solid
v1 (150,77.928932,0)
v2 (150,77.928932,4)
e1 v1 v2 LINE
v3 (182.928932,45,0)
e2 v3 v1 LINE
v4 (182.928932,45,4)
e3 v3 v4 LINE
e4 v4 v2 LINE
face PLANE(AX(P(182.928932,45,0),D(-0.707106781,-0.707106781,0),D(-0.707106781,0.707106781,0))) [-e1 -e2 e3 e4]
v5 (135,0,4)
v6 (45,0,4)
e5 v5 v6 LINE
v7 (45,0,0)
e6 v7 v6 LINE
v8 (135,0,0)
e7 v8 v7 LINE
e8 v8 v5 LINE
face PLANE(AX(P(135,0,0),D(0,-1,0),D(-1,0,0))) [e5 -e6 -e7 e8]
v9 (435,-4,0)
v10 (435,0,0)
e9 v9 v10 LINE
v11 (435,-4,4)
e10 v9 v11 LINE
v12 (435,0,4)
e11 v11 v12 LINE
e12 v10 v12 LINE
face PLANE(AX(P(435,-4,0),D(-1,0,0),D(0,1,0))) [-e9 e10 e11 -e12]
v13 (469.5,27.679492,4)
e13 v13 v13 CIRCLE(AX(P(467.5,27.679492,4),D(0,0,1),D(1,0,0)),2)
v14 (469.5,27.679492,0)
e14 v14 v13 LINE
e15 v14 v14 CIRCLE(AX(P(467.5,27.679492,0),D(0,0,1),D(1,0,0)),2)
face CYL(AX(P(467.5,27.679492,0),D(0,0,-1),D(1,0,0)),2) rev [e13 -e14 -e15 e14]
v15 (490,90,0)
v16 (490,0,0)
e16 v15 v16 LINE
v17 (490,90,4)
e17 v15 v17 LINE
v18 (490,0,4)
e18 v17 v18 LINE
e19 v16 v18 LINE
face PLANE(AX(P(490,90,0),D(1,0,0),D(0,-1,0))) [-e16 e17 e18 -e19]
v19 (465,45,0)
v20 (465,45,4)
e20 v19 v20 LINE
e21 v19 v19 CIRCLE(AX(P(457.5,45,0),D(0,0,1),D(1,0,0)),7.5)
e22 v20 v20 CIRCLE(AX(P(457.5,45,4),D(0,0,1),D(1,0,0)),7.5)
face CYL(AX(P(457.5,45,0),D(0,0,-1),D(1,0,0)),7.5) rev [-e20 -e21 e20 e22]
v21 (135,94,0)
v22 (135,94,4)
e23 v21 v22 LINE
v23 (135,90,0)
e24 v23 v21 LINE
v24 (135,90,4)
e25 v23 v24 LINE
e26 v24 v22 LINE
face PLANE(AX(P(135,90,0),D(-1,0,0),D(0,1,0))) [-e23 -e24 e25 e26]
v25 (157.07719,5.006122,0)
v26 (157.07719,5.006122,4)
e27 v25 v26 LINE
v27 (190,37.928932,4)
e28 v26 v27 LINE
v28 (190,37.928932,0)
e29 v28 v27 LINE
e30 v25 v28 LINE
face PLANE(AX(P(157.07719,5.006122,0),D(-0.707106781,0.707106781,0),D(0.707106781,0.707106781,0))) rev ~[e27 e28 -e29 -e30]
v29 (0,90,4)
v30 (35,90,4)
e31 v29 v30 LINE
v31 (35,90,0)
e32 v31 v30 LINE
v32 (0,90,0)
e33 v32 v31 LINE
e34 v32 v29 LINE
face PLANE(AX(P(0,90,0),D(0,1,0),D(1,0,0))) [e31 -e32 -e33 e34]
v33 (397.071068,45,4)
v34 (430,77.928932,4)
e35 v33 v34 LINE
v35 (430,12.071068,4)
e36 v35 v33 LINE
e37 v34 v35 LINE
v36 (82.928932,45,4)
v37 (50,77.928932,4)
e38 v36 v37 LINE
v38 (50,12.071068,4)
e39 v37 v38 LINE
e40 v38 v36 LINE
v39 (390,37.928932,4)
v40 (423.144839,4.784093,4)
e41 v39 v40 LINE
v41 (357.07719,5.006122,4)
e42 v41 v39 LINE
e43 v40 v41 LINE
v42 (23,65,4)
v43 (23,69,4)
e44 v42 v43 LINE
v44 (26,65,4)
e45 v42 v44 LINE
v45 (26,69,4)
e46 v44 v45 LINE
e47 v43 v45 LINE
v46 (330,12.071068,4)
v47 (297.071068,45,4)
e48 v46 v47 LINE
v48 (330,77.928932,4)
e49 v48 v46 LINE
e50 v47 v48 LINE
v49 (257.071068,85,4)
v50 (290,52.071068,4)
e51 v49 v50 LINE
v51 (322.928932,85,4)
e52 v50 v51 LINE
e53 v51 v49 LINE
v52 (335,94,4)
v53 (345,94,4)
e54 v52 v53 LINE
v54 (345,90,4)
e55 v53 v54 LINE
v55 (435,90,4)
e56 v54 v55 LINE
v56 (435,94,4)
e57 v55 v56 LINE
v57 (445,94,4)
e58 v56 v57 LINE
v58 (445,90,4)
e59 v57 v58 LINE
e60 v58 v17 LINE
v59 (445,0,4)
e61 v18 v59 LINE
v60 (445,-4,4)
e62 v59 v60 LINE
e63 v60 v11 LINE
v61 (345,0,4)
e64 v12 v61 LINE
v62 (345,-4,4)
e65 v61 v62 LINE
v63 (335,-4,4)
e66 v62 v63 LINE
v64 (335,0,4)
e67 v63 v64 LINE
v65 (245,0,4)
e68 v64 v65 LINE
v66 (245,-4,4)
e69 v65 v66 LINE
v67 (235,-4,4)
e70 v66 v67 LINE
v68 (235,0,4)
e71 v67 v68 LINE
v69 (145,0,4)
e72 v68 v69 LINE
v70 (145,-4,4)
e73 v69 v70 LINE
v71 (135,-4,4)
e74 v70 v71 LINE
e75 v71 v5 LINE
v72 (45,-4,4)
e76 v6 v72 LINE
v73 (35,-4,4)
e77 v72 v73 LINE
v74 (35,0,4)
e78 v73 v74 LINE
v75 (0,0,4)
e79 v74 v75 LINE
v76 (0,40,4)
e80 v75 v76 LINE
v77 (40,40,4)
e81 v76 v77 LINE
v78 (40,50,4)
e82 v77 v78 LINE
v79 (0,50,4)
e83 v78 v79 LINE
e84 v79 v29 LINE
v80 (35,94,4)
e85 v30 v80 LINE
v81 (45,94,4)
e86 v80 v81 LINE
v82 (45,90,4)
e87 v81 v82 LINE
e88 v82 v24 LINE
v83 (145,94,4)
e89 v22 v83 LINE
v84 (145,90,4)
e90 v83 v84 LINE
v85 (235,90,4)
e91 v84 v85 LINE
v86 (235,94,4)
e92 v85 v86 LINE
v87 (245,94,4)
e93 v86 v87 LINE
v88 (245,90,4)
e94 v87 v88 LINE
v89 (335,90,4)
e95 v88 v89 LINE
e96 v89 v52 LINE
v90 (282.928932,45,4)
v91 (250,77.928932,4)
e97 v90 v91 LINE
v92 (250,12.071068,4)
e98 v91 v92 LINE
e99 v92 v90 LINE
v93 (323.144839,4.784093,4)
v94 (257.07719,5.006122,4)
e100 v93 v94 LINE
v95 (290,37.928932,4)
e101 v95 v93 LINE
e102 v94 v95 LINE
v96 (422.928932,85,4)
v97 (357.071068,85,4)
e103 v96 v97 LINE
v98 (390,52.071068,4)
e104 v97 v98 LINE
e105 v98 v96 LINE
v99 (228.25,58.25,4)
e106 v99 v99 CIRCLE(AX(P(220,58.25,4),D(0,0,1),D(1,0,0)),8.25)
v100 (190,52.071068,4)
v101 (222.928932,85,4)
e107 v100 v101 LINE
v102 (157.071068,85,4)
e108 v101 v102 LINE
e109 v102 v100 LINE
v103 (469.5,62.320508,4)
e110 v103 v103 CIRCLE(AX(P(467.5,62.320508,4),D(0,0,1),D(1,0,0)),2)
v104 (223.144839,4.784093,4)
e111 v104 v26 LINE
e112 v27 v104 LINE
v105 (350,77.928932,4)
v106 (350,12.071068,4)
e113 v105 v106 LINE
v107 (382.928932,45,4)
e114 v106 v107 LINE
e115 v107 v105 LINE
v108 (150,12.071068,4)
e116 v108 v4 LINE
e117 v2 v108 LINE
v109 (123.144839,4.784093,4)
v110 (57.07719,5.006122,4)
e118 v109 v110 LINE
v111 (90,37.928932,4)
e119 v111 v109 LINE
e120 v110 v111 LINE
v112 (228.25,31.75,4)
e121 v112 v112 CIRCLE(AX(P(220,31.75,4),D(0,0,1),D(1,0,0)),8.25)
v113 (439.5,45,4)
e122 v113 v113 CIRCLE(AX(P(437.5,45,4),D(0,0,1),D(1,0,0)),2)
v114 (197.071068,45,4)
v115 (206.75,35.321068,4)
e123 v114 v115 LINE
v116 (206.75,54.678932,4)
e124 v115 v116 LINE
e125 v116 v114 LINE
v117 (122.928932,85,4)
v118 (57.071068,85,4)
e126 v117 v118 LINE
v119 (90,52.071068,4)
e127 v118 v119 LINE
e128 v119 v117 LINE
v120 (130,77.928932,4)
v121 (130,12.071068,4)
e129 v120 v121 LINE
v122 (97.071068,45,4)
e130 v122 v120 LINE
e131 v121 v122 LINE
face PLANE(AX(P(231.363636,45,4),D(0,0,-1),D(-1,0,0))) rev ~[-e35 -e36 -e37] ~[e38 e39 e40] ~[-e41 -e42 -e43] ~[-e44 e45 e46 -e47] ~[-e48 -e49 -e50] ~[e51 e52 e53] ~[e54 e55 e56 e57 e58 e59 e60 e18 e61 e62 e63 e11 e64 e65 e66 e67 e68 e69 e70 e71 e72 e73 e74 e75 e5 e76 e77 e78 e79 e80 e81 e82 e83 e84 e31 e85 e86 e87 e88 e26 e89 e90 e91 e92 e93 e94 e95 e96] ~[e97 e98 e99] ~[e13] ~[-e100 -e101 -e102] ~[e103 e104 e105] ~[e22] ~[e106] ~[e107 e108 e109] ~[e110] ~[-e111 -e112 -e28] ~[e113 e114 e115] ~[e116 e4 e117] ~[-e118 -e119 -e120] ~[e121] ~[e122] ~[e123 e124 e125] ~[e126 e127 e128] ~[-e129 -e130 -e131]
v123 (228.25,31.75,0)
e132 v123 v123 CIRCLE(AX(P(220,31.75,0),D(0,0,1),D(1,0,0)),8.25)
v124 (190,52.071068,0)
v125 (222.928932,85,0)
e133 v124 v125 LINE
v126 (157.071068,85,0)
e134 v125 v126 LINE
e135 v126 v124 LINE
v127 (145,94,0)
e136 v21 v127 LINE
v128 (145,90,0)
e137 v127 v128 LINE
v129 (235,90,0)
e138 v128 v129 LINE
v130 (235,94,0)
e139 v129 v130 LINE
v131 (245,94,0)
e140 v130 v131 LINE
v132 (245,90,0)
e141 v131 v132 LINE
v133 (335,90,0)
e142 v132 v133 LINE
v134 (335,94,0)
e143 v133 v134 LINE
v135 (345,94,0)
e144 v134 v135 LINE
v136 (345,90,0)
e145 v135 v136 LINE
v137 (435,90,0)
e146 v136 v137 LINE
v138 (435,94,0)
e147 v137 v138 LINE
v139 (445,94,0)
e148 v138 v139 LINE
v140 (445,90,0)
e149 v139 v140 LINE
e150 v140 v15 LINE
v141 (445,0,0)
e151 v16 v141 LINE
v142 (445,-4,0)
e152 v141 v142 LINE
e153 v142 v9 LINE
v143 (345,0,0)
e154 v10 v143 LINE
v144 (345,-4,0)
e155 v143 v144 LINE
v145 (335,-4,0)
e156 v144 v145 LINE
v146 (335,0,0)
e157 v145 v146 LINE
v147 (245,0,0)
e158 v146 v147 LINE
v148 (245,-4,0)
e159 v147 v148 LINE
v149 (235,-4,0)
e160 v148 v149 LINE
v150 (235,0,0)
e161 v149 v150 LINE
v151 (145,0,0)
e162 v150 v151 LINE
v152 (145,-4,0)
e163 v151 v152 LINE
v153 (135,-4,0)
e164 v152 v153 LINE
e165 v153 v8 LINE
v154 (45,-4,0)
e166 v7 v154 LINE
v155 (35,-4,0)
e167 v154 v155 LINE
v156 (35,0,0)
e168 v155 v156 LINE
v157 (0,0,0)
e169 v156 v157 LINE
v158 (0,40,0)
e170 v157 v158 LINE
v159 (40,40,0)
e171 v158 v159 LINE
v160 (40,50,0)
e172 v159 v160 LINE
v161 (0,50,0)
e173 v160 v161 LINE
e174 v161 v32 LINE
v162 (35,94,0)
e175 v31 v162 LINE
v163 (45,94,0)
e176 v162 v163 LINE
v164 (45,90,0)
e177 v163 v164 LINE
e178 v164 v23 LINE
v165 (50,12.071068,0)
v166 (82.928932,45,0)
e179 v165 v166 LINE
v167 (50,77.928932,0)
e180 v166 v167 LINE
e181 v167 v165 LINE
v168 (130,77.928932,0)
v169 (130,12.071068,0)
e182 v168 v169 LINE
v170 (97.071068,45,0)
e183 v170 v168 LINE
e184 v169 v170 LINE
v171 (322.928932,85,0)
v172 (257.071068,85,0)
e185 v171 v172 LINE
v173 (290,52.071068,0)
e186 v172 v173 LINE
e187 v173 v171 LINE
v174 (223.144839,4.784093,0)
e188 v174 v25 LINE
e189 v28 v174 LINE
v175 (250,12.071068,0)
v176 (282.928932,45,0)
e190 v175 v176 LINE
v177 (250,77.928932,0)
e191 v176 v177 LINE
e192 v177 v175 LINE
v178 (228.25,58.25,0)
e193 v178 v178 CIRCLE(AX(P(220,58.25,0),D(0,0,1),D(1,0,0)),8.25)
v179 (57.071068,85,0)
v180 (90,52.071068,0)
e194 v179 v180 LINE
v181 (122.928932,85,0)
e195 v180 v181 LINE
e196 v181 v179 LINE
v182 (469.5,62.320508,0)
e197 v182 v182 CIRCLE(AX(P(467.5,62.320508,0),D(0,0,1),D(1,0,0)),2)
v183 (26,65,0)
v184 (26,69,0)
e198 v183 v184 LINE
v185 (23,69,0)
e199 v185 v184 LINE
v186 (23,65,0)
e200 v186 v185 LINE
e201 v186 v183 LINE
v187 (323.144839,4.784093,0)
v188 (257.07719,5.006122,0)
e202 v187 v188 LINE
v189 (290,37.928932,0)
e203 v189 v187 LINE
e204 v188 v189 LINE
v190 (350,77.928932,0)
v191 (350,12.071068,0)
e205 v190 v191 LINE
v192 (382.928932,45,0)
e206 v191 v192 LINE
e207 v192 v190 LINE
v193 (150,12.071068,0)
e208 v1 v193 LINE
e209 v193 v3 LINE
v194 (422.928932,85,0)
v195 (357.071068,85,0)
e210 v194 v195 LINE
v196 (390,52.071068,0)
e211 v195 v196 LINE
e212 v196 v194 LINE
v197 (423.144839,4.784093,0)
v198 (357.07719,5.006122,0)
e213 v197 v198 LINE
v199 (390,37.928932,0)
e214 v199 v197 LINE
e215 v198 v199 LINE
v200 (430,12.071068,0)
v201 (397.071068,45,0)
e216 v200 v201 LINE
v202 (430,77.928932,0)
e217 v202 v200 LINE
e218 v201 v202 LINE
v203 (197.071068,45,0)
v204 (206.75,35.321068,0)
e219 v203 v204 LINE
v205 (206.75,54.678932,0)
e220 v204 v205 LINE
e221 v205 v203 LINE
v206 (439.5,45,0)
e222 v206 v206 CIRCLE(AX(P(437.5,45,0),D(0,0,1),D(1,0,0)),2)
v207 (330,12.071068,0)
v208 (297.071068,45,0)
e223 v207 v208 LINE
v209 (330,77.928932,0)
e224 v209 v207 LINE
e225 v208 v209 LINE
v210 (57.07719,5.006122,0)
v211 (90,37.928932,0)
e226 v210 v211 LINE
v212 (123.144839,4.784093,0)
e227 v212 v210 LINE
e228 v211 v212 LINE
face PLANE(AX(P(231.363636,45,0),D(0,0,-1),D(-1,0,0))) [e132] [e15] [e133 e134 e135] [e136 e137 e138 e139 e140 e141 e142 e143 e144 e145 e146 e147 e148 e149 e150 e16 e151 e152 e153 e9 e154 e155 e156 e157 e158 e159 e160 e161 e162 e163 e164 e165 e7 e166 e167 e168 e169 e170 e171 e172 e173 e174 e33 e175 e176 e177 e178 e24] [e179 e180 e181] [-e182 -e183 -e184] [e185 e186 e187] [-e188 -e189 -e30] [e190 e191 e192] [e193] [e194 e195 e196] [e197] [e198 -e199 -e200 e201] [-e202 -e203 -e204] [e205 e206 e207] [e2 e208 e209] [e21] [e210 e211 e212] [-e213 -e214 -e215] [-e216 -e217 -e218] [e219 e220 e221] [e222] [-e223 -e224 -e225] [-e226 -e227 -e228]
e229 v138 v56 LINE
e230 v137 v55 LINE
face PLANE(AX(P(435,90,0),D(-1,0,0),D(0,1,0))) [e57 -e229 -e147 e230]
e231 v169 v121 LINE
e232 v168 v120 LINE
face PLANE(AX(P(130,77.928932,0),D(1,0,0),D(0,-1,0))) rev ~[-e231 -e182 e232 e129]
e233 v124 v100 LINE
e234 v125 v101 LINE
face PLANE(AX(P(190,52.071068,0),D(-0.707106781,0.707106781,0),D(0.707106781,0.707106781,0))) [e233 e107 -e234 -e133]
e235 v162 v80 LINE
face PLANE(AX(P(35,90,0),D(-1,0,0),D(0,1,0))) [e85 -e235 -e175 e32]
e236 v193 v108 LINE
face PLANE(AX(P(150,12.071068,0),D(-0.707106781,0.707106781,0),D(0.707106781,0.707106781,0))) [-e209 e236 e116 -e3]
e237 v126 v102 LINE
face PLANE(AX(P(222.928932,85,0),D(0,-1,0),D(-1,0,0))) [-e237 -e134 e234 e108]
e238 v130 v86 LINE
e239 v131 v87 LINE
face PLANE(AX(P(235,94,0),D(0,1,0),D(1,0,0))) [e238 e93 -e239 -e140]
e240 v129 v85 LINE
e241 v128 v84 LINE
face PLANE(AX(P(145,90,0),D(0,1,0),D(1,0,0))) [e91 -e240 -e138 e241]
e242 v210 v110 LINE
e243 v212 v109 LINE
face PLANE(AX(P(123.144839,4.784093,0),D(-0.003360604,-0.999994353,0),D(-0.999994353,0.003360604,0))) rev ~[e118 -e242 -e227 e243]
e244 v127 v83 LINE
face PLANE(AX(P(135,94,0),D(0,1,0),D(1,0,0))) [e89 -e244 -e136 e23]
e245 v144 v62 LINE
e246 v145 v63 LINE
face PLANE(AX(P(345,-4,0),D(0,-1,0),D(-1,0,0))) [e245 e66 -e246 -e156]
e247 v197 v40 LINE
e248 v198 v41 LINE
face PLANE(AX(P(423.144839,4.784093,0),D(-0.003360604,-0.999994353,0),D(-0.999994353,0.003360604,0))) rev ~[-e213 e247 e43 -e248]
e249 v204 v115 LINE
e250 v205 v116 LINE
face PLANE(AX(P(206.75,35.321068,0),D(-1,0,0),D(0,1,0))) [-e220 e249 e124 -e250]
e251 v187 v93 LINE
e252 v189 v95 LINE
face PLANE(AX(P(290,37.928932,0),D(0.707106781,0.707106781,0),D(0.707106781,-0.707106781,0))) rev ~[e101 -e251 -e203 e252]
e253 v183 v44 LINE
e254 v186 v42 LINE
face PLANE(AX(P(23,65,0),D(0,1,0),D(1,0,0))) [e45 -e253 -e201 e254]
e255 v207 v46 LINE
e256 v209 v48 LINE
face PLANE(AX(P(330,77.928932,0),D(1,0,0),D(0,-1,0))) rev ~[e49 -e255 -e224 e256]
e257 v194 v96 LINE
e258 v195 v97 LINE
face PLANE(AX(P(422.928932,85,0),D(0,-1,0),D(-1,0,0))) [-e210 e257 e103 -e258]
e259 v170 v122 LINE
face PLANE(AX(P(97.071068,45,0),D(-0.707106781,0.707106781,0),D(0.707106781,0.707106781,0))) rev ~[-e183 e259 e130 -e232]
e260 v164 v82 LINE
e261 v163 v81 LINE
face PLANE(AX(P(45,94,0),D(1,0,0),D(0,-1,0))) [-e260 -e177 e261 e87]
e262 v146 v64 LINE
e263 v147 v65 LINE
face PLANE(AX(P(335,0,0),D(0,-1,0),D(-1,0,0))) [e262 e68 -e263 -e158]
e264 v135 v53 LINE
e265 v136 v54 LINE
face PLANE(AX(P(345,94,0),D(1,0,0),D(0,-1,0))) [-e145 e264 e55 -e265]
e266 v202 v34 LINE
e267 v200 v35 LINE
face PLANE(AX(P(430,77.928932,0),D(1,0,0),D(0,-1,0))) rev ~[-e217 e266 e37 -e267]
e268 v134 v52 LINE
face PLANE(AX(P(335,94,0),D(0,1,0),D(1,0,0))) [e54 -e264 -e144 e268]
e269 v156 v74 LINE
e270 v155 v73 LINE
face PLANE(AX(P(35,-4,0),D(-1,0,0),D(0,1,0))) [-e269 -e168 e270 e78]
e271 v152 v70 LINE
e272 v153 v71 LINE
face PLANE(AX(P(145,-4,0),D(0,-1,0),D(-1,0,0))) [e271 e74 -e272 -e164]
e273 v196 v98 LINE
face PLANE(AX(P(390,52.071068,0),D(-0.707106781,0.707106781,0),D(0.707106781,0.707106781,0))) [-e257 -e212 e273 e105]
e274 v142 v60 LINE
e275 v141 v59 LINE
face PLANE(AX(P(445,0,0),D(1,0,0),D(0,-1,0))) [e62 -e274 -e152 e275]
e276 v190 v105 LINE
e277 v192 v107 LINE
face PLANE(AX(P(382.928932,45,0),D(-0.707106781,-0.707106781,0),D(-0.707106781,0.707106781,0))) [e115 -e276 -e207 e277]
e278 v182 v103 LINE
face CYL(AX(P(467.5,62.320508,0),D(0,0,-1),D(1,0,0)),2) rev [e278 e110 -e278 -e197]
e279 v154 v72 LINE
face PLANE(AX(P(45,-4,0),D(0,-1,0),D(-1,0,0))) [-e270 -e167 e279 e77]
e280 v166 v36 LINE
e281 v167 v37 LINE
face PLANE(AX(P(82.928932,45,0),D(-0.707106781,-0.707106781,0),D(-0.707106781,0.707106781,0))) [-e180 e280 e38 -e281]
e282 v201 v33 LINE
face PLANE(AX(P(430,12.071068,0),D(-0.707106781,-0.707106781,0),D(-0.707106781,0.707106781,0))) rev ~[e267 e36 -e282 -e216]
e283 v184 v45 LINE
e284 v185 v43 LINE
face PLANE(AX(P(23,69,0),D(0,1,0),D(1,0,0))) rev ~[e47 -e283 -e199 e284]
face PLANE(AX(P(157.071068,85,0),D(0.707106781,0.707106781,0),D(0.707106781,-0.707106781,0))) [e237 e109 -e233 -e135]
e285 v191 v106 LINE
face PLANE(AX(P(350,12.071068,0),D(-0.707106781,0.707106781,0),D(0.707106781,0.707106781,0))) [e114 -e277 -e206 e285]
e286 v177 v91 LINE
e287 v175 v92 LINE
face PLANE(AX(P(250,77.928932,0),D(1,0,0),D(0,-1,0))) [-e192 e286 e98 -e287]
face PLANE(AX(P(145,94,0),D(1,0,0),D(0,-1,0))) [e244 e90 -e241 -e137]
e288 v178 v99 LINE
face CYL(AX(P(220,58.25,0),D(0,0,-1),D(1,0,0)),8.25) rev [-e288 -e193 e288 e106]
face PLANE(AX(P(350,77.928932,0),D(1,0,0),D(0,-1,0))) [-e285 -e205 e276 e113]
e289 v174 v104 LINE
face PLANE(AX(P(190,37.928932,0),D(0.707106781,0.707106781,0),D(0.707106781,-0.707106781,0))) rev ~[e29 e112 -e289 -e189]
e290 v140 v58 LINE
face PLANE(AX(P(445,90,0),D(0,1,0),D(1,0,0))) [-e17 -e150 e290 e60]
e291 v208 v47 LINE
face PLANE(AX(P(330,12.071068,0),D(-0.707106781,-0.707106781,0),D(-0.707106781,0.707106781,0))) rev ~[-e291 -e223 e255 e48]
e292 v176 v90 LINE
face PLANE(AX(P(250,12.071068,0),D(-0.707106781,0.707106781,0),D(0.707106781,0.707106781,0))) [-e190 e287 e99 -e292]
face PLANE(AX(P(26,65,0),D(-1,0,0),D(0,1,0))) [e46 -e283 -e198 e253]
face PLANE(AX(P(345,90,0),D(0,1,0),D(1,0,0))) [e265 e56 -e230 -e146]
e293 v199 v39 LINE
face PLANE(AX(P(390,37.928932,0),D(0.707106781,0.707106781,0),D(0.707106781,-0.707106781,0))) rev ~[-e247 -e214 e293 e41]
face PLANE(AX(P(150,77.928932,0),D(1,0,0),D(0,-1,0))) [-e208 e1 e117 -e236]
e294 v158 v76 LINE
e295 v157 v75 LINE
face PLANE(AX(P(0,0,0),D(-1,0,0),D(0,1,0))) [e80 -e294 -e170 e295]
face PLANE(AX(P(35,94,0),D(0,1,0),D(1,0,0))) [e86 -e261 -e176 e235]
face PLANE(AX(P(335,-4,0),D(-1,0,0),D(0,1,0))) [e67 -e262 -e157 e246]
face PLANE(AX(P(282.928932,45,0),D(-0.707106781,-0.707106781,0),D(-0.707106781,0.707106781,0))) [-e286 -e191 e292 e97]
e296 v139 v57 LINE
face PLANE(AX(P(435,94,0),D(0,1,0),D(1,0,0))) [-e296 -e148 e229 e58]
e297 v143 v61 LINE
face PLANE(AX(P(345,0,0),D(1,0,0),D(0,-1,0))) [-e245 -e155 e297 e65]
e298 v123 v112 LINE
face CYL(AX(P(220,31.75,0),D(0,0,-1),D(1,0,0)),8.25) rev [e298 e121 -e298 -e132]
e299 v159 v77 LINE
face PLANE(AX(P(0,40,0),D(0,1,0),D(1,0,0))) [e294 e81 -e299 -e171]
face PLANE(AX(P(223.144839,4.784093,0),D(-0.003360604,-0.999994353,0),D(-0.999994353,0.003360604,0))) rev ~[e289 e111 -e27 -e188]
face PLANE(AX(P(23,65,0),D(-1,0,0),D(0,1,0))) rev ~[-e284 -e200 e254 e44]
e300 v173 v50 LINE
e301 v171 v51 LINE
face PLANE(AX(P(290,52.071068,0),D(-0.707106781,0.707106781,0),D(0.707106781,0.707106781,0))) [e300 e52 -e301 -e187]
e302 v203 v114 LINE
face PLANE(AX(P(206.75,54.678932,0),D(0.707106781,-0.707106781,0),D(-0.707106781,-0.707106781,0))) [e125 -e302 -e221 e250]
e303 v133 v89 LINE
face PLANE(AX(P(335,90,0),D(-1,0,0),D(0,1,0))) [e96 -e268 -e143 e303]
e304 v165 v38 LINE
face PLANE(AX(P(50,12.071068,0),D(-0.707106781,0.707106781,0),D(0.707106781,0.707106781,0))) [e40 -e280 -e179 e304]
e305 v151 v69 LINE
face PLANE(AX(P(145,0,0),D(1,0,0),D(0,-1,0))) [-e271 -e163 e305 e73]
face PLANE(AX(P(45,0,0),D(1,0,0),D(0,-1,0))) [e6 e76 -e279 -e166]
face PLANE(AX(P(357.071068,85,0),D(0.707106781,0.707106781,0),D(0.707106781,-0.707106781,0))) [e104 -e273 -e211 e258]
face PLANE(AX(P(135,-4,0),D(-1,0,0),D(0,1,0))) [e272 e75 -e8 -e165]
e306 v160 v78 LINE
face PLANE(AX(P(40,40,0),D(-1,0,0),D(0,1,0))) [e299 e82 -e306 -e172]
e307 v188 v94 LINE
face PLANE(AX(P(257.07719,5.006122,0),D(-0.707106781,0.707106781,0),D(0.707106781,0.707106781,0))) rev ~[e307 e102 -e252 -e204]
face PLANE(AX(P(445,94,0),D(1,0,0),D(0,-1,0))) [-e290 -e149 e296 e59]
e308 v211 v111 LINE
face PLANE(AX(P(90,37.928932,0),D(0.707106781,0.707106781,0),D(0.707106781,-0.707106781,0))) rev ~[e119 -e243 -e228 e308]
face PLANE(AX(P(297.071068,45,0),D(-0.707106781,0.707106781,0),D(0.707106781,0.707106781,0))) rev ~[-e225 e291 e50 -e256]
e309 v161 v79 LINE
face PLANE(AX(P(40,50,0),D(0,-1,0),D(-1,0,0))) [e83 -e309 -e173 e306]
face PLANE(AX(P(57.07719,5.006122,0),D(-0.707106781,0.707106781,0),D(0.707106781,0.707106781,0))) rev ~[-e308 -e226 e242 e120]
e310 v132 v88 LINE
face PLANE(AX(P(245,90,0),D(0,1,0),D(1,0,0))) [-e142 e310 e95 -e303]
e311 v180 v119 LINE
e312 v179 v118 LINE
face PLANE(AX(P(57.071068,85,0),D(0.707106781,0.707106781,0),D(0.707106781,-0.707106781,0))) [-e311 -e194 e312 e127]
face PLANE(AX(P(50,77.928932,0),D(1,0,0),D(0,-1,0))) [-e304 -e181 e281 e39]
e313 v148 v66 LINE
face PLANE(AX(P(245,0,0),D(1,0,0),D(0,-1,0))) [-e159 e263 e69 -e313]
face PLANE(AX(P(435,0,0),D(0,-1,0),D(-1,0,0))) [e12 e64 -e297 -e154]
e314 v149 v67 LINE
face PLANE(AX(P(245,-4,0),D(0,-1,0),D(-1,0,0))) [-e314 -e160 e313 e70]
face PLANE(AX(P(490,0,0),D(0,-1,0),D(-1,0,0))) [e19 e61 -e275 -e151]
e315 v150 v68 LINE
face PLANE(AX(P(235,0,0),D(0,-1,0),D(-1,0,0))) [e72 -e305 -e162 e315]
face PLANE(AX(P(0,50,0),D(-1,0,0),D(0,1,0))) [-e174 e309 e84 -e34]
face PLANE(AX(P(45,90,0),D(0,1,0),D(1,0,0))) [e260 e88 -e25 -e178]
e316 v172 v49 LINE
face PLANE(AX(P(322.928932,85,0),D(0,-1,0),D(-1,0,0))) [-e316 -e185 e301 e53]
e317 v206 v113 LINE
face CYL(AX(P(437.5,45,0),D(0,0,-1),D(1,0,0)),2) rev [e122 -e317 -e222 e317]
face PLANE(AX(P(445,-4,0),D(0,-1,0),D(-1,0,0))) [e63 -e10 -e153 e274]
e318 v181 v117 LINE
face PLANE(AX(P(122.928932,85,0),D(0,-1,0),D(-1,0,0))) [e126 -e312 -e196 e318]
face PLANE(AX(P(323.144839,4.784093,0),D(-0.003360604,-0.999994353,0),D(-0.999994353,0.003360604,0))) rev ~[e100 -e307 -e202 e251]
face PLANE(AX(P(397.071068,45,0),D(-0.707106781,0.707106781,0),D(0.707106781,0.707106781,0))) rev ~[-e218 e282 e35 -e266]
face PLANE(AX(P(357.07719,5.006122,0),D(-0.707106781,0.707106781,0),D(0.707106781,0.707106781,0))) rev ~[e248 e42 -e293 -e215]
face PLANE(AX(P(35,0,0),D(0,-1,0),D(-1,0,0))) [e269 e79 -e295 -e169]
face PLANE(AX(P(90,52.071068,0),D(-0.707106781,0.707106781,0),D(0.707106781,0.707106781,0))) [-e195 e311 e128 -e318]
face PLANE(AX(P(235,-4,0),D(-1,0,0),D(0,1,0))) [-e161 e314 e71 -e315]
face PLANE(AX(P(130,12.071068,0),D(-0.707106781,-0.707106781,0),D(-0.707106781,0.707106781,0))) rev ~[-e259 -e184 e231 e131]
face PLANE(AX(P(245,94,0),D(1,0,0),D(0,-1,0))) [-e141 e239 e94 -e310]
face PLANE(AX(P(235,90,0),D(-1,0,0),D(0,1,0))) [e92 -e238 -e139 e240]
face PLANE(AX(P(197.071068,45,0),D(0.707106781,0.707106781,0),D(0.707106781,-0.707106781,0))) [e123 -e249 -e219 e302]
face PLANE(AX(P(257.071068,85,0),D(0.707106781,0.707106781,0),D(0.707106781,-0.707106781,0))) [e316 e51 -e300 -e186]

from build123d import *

# Parameters (mm, degrees)
SCHIZZO1_R                   = 7.5
SCHIZZO1_R_2                 = 2
SCHIZZO1_R_3                 = 8.25
SCHIZZO1_W                   = 3
SCHIZZO1_H                   = 4
ESTRUSIONE_ESTRUSIONE1_DEPTH = 4


with BuildPart() as part:
    # Schizzo1 → Estrusione-Estrusione1 (new body)
    with BuildSketch(Plane.XY):
        Polygon((0, 50), (0, 90), (35, 90), (35, 94), (45, 94), (45, 90), (135, 90), (135, 94), (145, 94), (145, 90), (235, 90), (235, 94), (245, 94), (245, 90), (335, 90), (335, 94), (345, 94), (345, 90), (435, 90), (435, 94), (445, 94), (445, 90), (490, 90), (490, 0), (445, 0), (445, -4), (435, -4), (435, 0), (345, 0), (345, -4), (335, -4), (335, 0), (245, 0), (245, -4), (235, -4), (235, 0), (145, 0), (145, -4), (135, -4), (135, 0), (45, 0), (45, -4), (35, -4), (35, 0), (0, 0), (0, 40), (40, 40), (40, 50), align=None)
        with Locations((457.5, 45)):
            Circle(SCHIZZO1_R, mode=Mode.SUBTRACT)
        with Locations((437.5, 45)):
            Circle(SCHIZZO1_R_2, mode=Mode.SUBTRACT)
        with Locations((467.5, 27.679491924)):
            Circle(SCHIZZO1_R_2, mode=Mode.SUBTRACT)
        with Locations((467.5, 62.320508076)):
            Circle(SCHIZZO1_R_2, mode=Mode.SUBTRACT)
        with Locations((220, 58.25)):
            Circle(SCHIZZO1_R_3, mode=Mode.SUBTRACT)
        with Locations((220, 31.75)):
            Circle(SCHIZZO1_R_3, mode=Mode.SUBTRACT)
        Polygon((50, 77.928932188), (50, 12.071067812), (82.928932188, 45), align=None, mode=Mode.SUBTRACT)
        Polygon((130, 77.928932188), (130, 12.071067812), (97.071067812, 45), align=None, mode=Mode.SUBTRACT)
        Polygon((57.071067812, 85), (90, 52.071067812), (122.928932188, 85), align=None, mode=Mode.SUBTRACT)
        Polygon((123.1448388, 4.784093388), (57.077189669, 5.006121857), (90, 37.928932188), align=None, mode=Mode.SUBTRACT)
        Polygon((150, 77.928932188), (150, 12.071067812), (182.928932188, 45), align=None, mode=Mode.SUBTRACT)
        Polygon((157.071067812, 85), (190, 52.071067812), (222.928932188, 85), align=None, mode=Mode.SUBTRACT)
        Polygon((223.1448388, 4.784093388), (157.077189669, 5.006121857), (190, 37.928932188), align=None, mode=Mode.SUBTRACT)
        Polygon((250, 77.928932188), (250, 12.071067812), (282.928932188, 45), align=None, mode=Mode.SUBTRACT)
        Polygon((330, 77.928932188), (330, 12.071067812), (297.071067812, 45), align=None, mode=Mode.SUBTRACT)
        Polygon((257.071067812, 85), (290, 52.071067812), (322.928932188, 85), align=None, mode=Mode.SUBTRACT)
        Polygon((323.1448388, 4.784093388), (257.077189669, 5.006121857), (290, 37.928932188), align=None, mode=Mode.SUBTRACT)
        Polygon((350, 77.928932188), (350, 12.071067812), (382.928932188, 45), align=None, mode=Mode.SUBTRACT)
        Polygon((430, 77.928932188), (430, 12.071067812), (397.071067812, 45), align=None, mode=Mode.SUBTRACT)
        Polygon((357.071067812, 85), (390, 52.071067812), (422.928932188, 85), align=None, mode=Mode.SUBTRACT)
        Polygon((423.1448388, 4.784093388), (357.077189669, 5.006121857), (390, 37.928932188), align=None, mode=Mode.SUBTRACT)
        with Locations((24.5, 67)):
            Rectangle(SCHIZZO1_W, SCHIZZO1_H, mode=Mode.SUBTRACT)
        Polygon((206.75, 54.678932188), (197.071067812, 45), (206.75, 35.321067812), align=None, mode=Mode.SUBTRACT)
    extrude(amount=ESTRUSIONE_ESTRUSIONE1_DEPTH)


solid = part.part
